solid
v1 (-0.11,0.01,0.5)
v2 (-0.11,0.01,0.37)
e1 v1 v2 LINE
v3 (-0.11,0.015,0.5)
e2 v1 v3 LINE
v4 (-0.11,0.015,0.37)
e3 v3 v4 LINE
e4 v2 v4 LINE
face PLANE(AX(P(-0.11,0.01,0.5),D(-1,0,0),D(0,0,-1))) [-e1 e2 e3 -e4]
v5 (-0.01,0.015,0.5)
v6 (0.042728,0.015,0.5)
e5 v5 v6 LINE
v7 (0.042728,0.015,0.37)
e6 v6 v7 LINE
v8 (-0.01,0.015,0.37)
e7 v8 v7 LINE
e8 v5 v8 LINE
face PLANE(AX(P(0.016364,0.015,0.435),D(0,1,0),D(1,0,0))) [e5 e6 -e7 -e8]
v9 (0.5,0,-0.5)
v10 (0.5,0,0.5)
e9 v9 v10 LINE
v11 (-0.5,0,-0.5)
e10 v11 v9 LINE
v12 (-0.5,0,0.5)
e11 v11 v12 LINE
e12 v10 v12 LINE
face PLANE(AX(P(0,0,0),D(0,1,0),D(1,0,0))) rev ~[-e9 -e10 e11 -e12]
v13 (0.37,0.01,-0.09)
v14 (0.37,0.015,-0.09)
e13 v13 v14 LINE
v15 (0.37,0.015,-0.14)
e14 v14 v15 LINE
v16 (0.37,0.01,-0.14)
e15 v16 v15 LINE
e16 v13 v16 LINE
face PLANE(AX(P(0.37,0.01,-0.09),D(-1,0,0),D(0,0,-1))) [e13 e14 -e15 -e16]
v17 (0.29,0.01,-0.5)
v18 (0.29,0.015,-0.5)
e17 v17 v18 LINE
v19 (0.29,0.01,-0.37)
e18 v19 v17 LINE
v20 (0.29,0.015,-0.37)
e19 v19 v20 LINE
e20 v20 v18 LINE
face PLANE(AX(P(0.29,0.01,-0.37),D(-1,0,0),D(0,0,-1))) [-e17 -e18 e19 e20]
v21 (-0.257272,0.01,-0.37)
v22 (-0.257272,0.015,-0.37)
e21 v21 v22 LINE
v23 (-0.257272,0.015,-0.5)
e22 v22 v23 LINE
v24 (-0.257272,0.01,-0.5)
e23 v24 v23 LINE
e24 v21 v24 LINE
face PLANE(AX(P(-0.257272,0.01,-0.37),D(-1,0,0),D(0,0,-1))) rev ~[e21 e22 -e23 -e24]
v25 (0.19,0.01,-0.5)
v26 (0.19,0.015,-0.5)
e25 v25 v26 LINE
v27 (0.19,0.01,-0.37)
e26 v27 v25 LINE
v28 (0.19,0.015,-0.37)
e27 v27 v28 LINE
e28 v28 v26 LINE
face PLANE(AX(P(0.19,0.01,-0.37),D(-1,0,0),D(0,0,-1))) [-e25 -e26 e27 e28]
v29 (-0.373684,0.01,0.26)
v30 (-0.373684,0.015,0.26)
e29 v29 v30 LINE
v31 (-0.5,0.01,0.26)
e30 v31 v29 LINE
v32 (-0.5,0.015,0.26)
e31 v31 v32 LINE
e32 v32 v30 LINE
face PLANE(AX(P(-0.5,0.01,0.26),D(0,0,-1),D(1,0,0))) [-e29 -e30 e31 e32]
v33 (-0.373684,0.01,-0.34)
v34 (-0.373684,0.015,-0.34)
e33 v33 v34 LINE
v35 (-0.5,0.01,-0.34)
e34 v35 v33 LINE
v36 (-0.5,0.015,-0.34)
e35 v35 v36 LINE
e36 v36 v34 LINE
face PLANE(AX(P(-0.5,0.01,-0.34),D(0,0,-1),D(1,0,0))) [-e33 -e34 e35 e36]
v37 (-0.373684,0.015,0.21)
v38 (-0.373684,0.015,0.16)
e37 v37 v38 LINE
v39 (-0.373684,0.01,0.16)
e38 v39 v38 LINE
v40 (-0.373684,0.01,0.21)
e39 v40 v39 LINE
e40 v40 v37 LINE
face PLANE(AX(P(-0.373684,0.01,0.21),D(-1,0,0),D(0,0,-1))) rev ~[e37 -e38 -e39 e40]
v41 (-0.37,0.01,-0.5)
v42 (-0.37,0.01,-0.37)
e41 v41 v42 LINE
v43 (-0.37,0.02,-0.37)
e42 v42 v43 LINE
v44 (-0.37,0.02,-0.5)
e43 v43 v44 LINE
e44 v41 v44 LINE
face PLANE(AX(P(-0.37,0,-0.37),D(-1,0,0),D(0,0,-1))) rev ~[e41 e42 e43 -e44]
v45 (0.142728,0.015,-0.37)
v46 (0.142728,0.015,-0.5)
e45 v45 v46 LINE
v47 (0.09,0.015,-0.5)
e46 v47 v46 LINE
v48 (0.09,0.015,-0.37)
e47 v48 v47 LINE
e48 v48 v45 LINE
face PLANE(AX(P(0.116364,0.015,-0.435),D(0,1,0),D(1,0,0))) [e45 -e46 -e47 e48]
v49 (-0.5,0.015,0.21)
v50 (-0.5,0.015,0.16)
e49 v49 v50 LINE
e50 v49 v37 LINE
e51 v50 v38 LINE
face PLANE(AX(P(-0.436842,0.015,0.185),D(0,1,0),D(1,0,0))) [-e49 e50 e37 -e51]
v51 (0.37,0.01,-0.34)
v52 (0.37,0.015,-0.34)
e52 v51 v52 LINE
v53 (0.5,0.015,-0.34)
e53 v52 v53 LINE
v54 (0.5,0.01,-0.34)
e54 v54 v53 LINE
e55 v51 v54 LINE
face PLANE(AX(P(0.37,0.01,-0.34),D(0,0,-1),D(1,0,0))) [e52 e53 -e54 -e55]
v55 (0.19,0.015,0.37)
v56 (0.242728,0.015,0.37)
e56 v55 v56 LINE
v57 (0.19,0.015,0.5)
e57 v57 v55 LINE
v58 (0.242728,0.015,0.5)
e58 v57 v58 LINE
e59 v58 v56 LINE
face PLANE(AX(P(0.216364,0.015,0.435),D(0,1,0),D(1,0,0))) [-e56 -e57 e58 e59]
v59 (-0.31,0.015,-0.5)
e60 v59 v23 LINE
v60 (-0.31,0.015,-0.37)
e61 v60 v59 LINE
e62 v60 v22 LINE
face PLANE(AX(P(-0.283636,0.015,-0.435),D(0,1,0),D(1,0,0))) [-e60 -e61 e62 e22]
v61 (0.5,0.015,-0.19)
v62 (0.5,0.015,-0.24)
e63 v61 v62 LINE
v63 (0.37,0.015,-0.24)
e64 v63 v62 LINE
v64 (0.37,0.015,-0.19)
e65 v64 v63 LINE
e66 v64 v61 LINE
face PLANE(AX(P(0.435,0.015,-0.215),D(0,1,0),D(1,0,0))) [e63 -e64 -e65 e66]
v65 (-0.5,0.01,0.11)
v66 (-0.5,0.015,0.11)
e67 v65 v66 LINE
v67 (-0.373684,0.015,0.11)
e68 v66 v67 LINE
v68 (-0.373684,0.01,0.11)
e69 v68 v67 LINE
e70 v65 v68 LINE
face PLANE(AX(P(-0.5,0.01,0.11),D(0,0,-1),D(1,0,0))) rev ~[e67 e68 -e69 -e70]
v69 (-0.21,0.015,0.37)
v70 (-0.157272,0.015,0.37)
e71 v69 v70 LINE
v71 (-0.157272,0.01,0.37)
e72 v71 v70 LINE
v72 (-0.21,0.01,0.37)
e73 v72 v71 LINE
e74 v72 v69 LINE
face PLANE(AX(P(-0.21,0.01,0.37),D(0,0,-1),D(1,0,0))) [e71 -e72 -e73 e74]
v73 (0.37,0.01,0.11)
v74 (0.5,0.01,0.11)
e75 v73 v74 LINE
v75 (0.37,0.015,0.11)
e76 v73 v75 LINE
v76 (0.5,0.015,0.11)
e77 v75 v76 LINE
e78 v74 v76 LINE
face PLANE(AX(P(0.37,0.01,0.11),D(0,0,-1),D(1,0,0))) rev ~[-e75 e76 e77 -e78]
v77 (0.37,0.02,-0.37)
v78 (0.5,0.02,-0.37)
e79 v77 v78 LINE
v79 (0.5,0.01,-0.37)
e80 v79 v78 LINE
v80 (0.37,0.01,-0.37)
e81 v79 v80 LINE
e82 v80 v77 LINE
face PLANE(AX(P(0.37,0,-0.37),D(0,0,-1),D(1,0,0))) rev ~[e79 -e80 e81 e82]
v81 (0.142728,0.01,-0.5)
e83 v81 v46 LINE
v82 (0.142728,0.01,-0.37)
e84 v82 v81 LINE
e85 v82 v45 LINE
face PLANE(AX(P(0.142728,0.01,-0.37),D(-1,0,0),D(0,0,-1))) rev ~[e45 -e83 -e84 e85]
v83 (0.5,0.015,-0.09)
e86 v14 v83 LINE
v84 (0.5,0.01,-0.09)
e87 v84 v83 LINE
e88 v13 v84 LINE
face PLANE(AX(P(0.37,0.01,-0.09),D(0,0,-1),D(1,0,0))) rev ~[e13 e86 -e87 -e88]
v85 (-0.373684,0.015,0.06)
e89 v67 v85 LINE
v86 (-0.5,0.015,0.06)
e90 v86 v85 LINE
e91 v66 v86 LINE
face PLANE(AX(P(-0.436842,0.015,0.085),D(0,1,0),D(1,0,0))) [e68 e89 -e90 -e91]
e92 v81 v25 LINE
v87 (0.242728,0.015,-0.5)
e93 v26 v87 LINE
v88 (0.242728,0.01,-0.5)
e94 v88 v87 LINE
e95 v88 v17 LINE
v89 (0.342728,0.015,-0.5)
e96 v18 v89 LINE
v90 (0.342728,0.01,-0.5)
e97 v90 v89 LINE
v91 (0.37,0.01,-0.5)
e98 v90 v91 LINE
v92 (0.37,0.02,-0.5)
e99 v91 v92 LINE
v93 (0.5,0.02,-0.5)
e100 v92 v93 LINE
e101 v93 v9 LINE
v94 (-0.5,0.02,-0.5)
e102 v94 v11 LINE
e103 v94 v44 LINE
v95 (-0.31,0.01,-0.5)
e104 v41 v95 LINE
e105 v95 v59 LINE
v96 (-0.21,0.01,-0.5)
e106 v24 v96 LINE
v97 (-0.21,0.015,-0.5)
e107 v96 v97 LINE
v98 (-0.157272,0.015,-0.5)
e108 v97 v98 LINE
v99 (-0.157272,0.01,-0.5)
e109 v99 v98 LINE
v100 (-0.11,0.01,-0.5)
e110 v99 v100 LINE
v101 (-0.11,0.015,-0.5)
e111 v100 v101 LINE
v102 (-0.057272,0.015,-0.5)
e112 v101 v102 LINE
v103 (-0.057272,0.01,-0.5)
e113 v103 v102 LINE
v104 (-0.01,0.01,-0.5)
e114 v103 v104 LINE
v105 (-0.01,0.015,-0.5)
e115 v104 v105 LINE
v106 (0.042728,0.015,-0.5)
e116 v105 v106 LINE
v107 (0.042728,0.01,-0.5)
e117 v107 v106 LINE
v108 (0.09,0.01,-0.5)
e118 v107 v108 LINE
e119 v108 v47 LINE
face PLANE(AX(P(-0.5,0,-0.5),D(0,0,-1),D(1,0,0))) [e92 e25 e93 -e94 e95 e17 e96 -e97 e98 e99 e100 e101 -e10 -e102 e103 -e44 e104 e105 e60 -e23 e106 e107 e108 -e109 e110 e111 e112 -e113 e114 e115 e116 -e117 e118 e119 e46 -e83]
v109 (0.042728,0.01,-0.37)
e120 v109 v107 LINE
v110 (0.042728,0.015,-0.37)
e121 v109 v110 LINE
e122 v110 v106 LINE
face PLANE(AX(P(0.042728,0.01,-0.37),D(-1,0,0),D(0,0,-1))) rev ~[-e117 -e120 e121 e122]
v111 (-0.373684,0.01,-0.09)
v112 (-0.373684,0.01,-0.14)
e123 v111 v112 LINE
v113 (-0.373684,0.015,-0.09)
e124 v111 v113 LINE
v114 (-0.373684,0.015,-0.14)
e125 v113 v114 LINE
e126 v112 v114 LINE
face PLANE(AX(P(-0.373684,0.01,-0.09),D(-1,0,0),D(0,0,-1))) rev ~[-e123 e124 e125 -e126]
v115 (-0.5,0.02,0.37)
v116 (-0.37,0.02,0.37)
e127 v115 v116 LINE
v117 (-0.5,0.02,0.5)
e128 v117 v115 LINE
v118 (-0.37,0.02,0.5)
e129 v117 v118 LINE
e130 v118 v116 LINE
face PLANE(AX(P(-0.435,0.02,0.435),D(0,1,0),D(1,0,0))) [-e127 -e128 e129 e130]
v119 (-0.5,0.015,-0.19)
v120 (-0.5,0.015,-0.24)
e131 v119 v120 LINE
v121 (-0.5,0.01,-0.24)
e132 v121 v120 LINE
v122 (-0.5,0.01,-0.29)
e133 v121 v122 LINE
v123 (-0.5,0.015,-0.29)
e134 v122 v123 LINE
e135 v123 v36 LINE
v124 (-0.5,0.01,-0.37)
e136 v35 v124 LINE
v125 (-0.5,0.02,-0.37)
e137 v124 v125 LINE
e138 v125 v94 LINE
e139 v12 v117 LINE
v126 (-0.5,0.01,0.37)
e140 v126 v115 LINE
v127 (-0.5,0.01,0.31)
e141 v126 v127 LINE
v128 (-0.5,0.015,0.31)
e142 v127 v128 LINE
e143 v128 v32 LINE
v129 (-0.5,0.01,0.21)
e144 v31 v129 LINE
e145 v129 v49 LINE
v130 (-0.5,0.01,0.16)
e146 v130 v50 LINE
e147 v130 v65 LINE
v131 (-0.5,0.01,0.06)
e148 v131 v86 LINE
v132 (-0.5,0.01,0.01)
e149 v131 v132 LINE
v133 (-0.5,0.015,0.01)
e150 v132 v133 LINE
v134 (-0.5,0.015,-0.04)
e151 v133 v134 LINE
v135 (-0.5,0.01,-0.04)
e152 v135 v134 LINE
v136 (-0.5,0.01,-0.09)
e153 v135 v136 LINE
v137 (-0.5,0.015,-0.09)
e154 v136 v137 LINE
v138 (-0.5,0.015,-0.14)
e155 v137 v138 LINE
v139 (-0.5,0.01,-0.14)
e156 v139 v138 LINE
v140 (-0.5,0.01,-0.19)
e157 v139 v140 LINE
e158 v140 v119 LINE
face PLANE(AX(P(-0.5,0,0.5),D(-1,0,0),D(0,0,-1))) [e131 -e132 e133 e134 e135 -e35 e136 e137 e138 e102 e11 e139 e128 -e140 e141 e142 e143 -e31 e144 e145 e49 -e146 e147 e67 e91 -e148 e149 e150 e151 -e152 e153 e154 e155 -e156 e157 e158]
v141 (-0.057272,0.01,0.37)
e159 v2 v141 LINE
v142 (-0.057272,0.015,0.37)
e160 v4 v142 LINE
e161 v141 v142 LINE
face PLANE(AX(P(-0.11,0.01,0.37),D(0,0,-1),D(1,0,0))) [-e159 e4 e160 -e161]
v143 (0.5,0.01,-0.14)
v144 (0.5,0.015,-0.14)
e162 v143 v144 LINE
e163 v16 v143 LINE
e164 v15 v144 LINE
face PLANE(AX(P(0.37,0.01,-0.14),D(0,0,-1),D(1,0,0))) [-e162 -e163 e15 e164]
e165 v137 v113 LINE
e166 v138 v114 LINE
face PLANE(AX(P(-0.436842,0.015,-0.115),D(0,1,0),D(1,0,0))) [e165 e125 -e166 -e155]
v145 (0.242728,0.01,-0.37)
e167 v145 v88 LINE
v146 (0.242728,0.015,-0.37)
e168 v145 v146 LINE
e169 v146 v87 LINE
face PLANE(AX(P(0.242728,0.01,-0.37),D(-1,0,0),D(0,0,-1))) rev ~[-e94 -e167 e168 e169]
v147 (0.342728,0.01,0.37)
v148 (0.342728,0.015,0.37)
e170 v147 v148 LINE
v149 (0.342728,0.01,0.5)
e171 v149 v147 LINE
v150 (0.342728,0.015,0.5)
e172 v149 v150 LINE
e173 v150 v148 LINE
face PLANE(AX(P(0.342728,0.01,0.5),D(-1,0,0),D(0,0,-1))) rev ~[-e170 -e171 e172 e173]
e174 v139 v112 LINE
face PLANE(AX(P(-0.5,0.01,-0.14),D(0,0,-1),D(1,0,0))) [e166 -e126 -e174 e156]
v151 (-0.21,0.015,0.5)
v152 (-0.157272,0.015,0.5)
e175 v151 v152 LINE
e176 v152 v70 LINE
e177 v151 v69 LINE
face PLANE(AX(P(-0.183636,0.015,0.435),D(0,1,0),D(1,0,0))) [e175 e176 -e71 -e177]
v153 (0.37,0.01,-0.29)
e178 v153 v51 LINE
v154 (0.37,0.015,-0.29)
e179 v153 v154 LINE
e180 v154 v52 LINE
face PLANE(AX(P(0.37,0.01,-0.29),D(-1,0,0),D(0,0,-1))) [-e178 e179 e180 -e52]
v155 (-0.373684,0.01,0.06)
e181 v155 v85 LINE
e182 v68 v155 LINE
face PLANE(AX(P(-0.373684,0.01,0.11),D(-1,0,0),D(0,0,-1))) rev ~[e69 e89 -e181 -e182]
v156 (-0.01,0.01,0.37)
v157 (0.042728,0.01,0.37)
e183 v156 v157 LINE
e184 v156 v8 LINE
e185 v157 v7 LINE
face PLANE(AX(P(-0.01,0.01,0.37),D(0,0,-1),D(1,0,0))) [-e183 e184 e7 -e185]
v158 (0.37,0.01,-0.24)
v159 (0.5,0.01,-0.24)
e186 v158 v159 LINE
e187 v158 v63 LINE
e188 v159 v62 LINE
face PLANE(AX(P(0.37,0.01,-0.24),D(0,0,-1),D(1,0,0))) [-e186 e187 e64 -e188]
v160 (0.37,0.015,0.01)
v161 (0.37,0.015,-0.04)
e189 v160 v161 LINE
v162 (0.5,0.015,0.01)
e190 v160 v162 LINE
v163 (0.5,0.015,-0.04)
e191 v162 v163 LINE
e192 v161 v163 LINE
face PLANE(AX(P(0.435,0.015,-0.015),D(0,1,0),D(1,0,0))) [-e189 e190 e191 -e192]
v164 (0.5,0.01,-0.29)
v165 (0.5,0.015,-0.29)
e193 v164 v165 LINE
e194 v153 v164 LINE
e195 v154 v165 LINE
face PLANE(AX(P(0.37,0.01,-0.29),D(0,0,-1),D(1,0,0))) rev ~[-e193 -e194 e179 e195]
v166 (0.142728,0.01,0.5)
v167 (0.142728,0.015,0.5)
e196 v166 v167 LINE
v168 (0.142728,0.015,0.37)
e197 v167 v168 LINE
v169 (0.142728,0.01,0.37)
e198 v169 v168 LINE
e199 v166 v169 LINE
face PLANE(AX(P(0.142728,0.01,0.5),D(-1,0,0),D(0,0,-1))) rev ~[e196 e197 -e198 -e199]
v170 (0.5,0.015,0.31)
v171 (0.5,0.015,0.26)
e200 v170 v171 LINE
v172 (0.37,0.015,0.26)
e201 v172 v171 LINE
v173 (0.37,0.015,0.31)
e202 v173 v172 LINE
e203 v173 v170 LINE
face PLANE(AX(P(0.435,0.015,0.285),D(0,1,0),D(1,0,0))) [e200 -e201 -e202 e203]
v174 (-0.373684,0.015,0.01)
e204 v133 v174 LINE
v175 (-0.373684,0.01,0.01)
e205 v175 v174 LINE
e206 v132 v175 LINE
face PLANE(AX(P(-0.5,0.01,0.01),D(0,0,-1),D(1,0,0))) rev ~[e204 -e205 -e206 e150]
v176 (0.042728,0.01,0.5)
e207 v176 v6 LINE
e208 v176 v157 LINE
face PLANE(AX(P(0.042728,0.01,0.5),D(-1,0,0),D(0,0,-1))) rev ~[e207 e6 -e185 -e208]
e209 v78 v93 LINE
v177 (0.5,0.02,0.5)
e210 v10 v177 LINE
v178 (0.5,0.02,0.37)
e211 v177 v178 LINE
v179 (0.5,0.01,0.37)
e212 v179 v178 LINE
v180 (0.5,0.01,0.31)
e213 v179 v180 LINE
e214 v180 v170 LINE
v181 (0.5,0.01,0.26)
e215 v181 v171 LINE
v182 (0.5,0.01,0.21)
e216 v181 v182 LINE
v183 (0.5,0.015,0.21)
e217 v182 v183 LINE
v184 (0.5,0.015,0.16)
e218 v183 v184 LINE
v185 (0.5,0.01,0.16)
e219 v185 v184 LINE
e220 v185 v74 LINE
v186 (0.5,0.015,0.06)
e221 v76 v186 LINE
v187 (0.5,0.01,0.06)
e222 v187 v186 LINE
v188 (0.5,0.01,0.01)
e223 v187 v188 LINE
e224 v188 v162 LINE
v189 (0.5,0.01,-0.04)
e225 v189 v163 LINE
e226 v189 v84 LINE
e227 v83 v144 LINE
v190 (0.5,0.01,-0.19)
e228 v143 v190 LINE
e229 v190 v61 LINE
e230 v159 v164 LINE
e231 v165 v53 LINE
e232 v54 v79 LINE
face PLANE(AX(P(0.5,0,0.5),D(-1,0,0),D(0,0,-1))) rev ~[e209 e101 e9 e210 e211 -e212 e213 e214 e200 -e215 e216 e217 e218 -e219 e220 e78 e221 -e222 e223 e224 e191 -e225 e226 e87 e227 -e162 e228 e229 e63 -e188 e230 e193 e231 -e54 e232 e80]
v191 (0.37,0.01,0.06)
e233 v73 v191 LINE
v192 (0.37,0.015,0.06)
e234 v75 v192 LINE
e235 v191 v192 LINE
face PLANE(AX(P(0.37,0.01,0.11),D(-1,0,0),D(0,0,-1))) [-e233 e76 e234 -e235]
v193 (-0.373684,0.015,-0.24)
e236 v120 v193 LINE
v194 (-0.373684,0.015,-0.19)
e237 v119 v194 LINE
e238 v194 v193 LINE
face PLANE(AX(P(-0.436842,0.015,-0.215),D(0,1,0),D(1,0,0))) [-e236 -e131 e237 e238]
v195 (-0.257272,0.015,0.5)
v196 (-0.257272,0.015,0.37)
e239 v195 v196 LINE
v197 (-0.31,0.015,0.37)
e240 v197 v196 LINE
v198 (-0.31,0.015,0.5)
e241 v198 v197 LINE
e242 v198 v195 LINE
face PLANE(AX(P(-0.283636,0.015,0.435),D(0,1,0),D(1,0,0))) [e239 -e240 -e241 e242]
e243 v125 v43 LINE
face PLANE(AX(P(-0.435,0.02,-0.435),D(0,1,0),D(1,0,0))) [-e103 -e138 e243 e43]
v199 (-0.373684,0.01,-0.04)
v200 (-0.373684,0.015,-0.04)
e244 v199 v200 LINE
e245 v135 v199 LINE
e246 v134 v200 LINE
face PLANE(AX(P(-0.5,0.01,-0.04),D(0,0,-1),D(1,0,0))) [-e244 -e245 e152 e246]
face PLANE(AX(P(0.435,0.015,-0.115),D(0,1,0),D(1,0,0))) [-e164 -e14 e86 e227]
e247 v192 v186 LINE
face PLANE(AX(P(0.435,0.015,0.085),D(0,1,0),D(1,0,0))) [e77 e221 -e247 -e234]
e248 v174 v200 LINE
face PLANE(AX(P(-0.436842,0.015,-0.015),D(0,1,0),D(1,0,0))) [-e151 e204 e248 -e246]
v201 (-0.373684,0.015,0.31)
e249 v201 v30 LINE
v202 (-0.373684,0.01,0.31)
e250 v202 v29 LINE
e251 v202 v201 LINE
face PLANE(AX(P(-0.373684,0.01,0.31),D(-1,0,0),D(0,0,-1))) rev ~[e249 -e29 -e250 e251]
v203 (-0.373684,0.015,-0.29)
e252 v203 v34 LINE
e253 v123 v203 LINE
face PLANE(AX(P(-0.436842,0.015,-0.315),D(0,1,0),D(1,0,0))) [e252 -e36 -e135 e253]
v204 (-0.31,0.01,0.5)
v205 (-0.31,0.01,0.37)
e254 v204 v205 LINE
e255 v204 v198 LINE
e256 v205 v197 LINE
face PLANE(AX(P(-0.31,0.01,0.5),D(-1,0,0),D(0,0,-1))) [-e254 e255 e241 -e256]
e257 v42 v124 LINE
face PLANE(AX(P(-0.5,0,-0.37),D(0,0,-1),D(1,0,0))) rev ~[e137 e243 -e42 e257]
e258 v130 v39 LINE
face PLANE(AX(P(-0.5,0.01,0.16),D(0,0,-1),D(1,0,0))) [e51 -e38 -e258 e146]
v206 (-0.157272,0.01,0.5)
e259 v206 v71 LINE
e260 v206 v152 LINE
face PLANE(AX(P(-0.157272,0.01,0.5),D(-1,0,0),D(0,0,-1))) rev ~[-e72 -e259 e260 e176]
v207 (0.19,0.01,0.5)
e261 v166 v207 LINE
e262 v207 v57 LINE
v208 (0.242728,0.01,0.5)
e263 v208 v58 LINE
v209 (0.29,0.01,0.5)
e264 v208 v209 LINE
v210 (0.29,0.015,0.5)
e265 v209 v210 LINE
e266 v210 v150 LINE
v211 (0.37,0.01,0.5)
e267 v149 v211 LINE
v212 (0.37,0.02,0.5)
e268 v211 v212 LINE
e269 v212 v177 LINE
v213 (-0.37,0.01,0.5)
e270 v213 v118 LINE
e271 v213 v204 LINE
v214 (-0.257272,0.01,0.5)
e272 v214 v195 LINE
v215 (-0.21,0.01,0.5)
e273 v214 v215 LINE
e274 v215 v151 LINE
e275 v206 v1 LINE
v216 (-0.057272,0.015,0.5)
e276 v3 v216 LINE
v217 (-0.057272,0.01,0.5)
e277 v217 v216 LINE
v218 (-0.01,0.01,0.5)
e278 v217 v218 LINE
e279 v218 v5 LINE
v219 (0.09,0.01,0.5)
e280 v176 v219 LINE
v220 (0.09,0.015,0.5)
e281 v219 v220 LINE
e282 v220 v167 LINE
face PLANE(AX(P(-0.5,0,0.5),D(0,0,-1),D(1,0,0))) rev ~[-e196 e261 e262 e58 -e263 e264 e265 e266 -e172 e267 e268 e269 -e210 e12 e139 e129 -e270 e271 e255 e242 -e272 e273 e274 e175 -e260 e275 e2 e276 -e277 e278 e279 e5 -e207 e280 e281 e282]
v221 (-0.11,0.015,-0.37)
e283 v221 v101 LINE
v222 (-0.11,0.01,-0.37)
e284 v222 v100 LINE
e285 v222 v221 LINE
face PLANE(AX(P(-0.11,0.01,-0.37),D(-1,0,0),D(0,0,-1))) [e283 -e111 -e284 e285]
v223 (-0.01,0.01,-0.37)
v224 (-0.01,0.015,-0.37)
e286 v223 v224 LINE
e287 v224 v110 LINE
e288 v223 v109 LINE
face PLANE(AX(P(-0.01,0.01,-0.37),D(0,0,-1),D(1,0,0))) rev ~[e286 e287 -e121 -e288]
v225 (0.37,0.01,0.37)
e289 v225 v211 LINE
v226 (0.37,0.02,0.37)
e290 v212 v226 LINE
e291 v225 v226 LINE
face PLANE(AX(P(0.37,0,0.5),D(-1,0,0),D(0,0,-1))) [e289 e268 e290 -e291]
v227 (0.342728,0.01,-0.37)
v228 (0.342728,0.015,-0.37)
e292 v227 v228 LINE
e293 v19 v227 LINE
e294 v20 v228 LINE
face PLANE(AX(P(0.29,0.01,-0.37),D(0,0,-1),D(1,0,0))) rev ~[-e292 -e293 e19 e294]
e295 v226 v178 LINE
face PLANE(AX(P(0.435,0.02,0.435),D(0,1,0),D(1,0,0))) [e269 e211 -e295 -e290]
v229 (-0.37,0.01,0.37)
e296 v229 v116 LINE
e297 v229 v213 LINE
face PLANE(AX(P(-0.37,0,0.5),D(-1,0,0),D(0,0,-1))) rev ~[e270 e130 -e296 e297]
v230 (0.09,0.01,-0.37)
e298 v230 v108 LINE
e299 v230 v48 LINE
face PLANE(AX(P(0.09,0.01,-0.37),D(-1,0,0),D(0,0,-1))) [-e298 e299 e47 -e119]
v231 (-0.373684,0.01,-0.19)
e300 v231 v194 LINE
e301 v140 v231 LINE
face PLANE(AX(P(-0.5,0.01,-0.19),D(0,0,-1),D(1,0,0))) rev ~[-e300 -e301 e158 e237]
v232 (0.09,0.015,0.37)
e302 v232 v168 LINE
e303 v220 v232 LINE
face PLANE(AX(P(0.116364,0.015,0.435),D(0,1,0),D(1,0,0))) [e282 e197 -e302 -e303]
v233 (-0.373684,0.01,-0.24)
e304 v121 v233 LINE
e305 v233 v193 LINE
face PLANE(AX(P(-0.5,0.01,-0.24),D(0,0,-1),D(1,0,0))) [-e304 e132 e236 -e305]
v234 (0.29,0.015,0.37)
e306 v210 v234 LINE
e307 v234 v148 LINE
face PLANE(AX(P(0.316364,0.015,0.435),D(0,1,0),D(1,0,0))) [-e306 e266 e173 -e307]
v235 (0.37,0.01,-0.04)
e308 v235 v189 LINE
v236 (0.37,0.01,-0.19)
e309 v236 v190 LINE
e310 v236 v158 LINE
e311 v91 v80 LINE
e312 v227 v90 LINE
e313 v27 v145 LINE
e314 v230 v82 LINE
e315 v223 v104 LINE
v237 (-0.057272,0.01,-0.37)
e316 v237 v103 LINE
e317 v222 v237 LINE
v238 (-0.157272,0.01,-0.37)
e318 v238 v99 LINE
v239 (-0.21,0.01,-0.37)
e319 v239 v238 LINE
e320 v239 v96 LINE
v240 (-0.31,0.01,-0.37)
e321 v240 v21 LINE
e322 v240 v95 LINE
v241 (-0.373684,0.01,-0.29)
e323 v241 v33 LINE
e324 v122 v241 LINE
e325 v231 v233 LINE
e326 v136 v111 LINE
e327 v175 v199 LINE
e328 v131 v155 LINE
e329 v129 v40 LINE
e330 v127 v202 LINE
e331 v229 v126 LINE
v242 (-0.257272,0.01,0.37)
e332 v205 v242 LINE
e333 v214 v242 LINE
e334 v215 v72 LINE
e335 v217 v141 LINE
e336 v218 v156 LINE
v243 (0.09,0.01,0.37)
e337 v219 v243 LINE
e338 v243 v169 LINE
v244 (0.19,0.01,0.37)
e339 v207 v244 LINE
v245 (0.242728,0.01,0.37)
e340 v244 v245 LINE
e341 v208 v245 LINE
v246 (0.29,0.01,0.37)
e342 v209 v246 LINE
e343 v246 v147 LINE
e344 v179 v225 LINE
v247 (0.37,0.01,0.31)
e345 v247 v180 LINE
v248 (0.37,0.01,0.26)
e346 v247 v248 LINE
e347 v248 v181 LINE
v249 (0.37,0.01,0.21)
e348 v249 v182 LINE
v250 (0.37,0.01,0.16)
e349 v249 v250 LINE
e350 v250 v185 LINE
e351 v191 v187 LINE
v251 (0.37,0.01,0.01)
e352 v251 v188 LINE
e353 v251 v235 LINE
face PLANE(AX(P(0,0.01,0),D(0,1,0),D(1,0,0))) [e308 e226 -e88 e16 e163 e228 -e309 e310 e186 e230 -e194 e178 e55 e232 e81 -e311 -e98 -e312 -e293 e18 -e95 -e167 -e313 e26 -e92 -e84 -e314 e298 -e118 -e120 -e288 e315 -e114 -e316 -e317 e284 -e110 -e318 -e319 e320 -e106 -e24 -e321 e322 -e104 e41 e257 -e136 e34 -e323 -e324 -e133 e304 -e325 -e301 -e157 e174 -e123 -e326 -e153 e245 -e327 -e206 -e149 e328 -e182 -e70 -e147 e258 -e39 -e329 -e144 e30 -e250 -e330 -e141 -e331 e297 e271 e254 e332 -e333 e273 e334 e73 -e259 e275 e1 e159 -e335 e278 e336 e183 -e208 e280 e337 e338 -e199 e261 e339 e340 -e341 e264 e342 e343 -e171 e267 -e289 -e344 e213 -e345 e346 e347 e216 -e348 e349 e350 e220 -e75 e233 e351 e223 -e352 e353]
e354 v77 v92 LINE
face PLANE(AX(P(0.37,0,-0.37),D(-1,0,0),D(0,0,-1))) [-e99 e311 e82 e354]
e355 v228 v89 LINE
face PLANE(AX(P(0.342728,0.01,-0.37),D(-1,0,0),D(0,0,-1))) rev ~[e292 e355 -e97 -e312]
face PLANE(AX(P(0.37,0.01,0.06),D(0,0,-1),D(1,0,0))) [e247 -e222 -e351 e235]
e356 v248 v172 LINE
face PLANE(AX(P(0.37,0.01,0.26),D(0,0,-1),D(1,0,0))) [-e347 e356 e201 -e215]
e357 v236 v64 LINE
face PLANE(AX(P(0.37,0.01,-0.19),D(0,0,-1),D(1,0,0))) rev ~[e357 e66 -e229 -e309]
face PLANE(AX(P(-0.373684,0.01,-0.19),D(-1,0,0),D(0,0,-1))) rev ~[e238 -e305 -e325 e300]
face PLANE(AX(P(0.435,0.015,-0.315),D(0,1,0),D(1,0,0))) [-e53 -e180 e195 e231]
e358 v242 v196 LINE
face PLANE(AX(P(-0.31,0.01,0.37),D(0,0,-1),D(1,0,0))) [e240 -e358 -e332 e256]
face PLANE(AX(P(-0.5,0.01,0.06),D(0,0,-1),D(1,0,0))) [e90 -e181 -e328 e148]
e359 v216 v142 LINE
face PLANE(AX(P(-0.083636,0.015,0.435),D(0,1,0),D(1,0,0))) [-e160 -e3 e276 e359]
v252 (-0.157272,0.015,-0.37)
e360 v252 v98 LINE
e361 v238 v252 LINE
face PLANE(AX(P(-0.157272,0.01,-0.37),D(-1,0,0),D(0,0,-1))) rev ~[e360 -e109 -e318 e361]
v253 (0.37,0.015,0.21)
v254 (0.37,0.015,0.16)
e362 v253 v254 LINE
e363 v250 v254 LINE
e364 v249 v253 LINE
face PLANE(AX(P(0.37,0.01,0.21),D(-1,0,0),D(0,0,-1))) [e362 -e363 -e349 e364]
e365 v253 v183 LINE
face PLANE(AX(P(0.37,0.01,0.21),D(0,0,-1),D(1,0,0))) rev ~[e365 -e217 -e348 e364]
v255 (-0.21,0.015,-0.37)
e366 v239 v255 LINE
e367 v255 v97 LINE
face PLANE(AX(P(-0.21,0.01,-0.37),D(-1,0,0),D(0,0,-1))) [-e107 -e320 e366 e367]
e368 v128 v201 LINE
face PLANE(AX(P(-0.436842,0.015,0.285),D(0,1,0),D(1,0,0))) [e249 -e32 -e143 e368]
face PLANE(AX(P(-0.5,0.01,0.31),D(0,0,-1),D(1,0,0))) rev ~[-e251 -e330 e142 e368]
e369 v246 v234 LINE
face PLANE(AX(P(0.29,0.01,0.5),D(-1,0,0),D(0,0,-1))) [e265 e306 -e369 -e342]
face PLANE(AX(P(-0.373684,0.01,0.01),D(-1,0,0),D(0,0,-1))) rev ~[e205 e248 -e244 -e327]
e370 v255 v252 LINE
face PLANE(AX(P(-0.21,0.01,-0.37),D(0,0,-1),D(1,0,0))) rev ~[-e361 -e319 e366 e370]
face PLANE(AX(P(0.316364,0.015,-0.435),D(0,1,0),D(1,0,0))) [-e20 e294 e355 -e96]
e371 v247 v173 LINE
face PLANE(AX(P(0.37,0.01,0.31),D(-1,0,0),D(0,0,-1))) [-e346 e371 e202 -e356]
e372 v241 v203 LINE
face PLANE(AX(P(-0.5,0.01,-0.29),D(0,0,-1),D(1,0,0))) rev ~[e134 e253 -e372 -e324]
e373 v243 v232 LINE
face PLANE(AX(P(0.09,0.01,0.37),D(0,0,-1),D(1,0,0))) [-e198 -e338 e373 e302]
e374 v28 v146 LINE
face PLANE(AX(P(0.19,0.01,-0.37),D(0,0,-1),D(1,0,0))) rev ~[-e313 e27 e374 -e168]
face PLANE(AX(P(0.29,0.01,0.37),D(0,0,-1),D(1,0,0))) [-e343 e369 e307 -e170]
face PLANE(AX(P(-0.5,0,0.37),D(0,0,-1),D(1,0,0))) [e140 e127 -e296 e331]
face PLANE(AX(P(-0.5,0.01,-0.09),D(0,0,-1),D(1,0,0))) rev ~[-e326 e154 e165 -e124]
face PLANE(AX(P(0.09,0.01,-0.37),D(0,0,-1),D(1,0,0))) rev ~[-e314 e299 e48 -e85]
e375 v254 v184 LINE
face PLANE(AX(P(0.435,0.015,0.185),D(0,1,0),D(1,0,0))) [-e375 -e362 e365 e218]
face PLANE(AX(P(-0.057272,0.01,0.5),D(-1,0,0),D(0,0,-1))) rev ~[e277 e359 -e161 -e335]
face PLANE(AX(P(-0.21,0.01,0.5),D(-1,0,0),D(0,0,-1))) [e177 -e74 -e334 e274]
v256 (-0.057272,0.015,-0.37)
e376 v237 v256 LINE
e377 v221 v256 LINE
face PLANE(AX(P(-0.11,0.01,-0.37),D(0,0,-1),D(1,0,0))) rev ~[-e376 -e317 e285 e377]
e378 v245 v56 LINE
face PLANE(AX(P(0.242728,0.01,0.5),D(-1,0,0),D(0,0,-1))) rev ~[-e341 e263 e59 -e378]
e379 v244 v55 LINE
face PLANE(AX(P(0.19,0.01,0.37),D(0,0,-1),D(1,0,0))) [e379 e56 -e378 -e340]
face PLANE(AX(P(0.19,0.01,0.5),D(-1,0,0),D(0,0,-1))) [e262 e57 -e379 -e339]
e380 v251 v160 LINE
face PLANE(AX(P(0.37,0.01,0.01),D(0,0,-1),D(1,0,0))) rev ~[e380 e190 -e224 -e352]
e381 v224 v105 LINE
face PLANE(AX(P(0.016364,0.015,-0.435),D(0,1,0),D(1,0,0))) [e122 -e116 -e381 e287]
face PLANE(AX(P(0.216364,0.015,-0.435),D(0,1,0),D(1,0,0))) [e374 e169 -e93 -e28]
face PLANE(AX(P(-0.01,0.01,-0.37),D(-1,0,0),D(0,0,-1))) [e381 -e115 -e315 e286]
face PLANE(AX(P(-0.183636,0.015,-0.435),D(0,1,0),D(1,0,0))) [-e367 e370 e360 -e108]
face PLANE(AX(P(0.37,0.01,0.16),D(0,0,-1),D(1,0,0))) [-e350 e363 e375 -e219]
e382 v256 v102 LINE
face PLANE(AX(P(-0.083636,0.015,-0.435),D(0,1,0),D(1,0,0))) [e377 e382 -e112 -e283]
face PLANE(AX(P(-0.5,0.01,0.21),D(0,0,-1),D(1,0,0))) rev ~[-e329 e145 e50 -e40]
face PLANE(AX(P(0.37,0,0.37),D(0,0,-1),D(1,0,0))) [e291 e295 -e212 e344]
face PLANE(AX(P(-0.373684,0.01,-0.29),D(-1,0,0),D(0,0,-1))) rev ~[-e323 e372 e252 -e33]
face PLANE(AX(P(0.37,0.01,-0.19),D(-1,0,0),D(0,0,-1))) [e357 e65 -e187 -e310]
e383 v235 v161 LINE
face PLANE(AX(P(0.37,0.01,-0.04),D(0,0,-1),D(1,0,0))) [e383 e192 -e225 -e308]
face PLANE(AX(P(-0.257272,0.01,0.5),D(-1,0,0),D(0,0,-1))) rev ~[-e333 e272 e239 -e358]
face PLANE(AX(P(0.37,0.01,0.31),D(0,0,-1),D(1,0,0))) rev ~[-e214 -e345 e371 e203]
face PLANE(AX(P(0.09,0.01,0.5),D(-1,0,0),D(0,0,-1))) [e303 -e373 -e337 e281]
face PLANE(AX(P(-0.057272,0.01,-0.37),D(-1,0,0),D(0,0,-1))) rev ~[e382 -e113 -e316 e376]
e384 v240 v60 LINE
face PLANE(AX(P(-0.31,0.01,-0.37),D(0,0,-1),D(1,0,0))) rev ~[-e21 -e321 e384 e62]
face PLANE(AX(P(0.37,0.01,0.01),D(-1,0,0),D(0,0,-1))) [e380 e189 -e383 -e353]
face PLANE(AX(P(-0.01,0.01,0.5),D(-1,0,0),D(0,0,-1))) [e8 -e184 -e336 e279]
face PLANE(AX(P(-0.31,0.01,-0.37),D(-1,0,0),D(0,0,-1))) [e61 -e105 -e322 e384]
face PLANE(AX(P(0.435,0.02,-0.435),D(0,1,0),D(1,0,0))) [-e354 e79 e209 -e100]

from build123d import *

# Parameters (mm, degrees)
ESBO_O1_W                = 1
ESBO_O1_H                = 1
RESSALTO_EXTRUS_O1_DEPTH = 0.01
ESBO_O3_W                = 0.052728247
ESBO_O3_H                = 0.13
ESBO_O3_W_2              = 0.13
ESBO_O3_H_2              = 0.05
ESBO_O3_W_3              = 0.126315558
RESSALTO_EXTRUS_O2_DEPTH = 0.005
ESBO_O2_W                = 0.13
ESBO_O2_H                = 0.13
RESSALTO_EXTRUS_O4_DEPTH = 0.02


with BuildPart() as part:
    # Esboço1 → Ressalto-extrusão1 (new body)
    with BuildSketch(Plane(origin=(0, 0, 0), x_dir=(1, 0, 0), z_dir=(0, 1, 0))):
        Rectangle(ESBO_O1_W, ESBO_O1_H)
    extrude(amount=RESSALTO_EXTRUS_O1_DEPTH)

    # Esboço3 → Ressalto-extrusão2 (add)
    with BuildSketch(Plane(origin=(0, 0.01, 0), x_dir=(1, 0, 0), z_dir=(0, 1, 0))):
        with Locations((-0.283635876, -0.435)):
            Rectangle(ESBO_O3_W, ESBO_O3_H)
        with Locations((0.435, -0.185)):
            Rectangle(ESBO_O3_W_2, ESBO_O3_H_2)
        with Locations((-0.183635877, -0.435)):
            Rectangle(ESBO_O3_W, ESBO_O3_H)
        with Locations((-0.083635876, -0.435)):
            Rectangle(ESBO_O3_W, ESBO_O3_H)
        with Locations((0.016364124, -0.435)):
            Rectangle(ESBO_O3_W, ESBO_O3_H)
        with Locations((0.116364123, -0.435)):
            Rectangle(ESBO_O3_W, ESBO_O3_H)
        with Locations((0.216364124, -0.435)):
            Rectangle(ESBO_O3_W, ESBO_O3_H)
        with Locations((0.316364124, -0.435)):
            Rectangle(ESBO_O3_W, ESBO_O3_H)
        with Locations((0.435, -0.285)):
            Rectangle(ESBO_O3_W_2, ESBO_O3_H_2)
        with Locations((0.435, -0.085)):
            Rectangle(ESBO_O3_W_2, ESBO_O3_H_2)
        with Locations((0.435, 0.015)):
            Rectangle(ESBO_O3_W_2, ESBO_O3_H_2)
        with Locations((0.435, 0.115)):
            Rectangle(ESBO_O3_W_2, ESBO_O3_H_2)
        with Locations((0.435, 0.215)):
            Rectangle(ESBO_O3_W_2, ESBO_O3_H_2)
        with Locations((0.435, 0.315)):
            Rectangle(ESBO_O3_W_2, ESBO_O3_H_2)
        with Locations((0.316364124, 0.435)):
            Rectangle(ESBO_O3_W, ESBO_O3_H)
        with Locations((0.216364124, 0.435)):
            Rectangle(ESBO_O3_W, ESBO_O3_H)
        with Locations((0.116364123, 0.435)):
            Rectangle(ESBO_O3_W, ESBO_O3_H)
        with Locations((0.016364124, 0.435)):
            Rectangle(ESBO_O3_W, ESBO_O3_H)
        with Locations((-0.083635876, 0.435)):
            Rectangle(ESBO_O3_W, ESBO_O3_H)
        with Locations((-0.183635877, 0.435)):
            Rectangle(ESBO_O3_W, ESBO_O3_H)
        with Locations((-0.283635876, 0.435)):
            Rectangle(ESBO_O3_W, ESBO_O3_H)
        with Locations((-0.436842221, 0.315)):
            Rectangle(ESBO_O3_W_3, ESBO_O3_H_2)
        with Locations((-0.436842221, 0.215)):
            Rectangle(ESBO_O3_W_3, ESBO_O3_H_2)
        with Locations((-0.436842221, 0.115)):
            Rectangle(ESBO_O3_W_3, ESBO_O3_H_2)
        with Locations((-0.436842221, 0.015)):
            Rectangle(ESBO_O3_W_3, ESBO_O3_H_2)
        with Locations((-0.436842221, -0.085)):
            Rectangle(ESBO_O3_W_3, ESBO_O3_H_2)
        with Locations((-0.436842221, -0.185)):
            Rectangle(ESBO_O3_W_3, ESBO_O3_H_2)
        with Locations((-0.436842221, -0.285)):
            Rectangle(ESBO_O3_W_3, ESBO_O3_H_2)
    extrude(amount=RESSALTO_EXTRUS_O2_DEPTH)

    # Esboço2 → Ressalto-extrusão4 (add)
    with BuildSketch(Plane(origin=(0, 0, 0), x_dir=(1, 0, 0), z_dir=(0, 1, 0))):
        with Locations((-0.435, -0.435)):
            Rectangle(ESBO_O2_W, ESBO_O2_H)
        with Locations((0.435, 0.435)):
            Rectangle(ESBO_O2_W, ESBO_O2_H)
        with Locations((0.435, -0.435)):
            Rectangle(ESBO_O2_W, ESBO_O2_H)
        with Locations((-0.435, 0.435)):
            Rectangle(ESBO_O2_W, ESBO_O2_H)
    extrude(amount=RESSALTO_EXTRUS_O4_DEPTH)


solid = part.part
